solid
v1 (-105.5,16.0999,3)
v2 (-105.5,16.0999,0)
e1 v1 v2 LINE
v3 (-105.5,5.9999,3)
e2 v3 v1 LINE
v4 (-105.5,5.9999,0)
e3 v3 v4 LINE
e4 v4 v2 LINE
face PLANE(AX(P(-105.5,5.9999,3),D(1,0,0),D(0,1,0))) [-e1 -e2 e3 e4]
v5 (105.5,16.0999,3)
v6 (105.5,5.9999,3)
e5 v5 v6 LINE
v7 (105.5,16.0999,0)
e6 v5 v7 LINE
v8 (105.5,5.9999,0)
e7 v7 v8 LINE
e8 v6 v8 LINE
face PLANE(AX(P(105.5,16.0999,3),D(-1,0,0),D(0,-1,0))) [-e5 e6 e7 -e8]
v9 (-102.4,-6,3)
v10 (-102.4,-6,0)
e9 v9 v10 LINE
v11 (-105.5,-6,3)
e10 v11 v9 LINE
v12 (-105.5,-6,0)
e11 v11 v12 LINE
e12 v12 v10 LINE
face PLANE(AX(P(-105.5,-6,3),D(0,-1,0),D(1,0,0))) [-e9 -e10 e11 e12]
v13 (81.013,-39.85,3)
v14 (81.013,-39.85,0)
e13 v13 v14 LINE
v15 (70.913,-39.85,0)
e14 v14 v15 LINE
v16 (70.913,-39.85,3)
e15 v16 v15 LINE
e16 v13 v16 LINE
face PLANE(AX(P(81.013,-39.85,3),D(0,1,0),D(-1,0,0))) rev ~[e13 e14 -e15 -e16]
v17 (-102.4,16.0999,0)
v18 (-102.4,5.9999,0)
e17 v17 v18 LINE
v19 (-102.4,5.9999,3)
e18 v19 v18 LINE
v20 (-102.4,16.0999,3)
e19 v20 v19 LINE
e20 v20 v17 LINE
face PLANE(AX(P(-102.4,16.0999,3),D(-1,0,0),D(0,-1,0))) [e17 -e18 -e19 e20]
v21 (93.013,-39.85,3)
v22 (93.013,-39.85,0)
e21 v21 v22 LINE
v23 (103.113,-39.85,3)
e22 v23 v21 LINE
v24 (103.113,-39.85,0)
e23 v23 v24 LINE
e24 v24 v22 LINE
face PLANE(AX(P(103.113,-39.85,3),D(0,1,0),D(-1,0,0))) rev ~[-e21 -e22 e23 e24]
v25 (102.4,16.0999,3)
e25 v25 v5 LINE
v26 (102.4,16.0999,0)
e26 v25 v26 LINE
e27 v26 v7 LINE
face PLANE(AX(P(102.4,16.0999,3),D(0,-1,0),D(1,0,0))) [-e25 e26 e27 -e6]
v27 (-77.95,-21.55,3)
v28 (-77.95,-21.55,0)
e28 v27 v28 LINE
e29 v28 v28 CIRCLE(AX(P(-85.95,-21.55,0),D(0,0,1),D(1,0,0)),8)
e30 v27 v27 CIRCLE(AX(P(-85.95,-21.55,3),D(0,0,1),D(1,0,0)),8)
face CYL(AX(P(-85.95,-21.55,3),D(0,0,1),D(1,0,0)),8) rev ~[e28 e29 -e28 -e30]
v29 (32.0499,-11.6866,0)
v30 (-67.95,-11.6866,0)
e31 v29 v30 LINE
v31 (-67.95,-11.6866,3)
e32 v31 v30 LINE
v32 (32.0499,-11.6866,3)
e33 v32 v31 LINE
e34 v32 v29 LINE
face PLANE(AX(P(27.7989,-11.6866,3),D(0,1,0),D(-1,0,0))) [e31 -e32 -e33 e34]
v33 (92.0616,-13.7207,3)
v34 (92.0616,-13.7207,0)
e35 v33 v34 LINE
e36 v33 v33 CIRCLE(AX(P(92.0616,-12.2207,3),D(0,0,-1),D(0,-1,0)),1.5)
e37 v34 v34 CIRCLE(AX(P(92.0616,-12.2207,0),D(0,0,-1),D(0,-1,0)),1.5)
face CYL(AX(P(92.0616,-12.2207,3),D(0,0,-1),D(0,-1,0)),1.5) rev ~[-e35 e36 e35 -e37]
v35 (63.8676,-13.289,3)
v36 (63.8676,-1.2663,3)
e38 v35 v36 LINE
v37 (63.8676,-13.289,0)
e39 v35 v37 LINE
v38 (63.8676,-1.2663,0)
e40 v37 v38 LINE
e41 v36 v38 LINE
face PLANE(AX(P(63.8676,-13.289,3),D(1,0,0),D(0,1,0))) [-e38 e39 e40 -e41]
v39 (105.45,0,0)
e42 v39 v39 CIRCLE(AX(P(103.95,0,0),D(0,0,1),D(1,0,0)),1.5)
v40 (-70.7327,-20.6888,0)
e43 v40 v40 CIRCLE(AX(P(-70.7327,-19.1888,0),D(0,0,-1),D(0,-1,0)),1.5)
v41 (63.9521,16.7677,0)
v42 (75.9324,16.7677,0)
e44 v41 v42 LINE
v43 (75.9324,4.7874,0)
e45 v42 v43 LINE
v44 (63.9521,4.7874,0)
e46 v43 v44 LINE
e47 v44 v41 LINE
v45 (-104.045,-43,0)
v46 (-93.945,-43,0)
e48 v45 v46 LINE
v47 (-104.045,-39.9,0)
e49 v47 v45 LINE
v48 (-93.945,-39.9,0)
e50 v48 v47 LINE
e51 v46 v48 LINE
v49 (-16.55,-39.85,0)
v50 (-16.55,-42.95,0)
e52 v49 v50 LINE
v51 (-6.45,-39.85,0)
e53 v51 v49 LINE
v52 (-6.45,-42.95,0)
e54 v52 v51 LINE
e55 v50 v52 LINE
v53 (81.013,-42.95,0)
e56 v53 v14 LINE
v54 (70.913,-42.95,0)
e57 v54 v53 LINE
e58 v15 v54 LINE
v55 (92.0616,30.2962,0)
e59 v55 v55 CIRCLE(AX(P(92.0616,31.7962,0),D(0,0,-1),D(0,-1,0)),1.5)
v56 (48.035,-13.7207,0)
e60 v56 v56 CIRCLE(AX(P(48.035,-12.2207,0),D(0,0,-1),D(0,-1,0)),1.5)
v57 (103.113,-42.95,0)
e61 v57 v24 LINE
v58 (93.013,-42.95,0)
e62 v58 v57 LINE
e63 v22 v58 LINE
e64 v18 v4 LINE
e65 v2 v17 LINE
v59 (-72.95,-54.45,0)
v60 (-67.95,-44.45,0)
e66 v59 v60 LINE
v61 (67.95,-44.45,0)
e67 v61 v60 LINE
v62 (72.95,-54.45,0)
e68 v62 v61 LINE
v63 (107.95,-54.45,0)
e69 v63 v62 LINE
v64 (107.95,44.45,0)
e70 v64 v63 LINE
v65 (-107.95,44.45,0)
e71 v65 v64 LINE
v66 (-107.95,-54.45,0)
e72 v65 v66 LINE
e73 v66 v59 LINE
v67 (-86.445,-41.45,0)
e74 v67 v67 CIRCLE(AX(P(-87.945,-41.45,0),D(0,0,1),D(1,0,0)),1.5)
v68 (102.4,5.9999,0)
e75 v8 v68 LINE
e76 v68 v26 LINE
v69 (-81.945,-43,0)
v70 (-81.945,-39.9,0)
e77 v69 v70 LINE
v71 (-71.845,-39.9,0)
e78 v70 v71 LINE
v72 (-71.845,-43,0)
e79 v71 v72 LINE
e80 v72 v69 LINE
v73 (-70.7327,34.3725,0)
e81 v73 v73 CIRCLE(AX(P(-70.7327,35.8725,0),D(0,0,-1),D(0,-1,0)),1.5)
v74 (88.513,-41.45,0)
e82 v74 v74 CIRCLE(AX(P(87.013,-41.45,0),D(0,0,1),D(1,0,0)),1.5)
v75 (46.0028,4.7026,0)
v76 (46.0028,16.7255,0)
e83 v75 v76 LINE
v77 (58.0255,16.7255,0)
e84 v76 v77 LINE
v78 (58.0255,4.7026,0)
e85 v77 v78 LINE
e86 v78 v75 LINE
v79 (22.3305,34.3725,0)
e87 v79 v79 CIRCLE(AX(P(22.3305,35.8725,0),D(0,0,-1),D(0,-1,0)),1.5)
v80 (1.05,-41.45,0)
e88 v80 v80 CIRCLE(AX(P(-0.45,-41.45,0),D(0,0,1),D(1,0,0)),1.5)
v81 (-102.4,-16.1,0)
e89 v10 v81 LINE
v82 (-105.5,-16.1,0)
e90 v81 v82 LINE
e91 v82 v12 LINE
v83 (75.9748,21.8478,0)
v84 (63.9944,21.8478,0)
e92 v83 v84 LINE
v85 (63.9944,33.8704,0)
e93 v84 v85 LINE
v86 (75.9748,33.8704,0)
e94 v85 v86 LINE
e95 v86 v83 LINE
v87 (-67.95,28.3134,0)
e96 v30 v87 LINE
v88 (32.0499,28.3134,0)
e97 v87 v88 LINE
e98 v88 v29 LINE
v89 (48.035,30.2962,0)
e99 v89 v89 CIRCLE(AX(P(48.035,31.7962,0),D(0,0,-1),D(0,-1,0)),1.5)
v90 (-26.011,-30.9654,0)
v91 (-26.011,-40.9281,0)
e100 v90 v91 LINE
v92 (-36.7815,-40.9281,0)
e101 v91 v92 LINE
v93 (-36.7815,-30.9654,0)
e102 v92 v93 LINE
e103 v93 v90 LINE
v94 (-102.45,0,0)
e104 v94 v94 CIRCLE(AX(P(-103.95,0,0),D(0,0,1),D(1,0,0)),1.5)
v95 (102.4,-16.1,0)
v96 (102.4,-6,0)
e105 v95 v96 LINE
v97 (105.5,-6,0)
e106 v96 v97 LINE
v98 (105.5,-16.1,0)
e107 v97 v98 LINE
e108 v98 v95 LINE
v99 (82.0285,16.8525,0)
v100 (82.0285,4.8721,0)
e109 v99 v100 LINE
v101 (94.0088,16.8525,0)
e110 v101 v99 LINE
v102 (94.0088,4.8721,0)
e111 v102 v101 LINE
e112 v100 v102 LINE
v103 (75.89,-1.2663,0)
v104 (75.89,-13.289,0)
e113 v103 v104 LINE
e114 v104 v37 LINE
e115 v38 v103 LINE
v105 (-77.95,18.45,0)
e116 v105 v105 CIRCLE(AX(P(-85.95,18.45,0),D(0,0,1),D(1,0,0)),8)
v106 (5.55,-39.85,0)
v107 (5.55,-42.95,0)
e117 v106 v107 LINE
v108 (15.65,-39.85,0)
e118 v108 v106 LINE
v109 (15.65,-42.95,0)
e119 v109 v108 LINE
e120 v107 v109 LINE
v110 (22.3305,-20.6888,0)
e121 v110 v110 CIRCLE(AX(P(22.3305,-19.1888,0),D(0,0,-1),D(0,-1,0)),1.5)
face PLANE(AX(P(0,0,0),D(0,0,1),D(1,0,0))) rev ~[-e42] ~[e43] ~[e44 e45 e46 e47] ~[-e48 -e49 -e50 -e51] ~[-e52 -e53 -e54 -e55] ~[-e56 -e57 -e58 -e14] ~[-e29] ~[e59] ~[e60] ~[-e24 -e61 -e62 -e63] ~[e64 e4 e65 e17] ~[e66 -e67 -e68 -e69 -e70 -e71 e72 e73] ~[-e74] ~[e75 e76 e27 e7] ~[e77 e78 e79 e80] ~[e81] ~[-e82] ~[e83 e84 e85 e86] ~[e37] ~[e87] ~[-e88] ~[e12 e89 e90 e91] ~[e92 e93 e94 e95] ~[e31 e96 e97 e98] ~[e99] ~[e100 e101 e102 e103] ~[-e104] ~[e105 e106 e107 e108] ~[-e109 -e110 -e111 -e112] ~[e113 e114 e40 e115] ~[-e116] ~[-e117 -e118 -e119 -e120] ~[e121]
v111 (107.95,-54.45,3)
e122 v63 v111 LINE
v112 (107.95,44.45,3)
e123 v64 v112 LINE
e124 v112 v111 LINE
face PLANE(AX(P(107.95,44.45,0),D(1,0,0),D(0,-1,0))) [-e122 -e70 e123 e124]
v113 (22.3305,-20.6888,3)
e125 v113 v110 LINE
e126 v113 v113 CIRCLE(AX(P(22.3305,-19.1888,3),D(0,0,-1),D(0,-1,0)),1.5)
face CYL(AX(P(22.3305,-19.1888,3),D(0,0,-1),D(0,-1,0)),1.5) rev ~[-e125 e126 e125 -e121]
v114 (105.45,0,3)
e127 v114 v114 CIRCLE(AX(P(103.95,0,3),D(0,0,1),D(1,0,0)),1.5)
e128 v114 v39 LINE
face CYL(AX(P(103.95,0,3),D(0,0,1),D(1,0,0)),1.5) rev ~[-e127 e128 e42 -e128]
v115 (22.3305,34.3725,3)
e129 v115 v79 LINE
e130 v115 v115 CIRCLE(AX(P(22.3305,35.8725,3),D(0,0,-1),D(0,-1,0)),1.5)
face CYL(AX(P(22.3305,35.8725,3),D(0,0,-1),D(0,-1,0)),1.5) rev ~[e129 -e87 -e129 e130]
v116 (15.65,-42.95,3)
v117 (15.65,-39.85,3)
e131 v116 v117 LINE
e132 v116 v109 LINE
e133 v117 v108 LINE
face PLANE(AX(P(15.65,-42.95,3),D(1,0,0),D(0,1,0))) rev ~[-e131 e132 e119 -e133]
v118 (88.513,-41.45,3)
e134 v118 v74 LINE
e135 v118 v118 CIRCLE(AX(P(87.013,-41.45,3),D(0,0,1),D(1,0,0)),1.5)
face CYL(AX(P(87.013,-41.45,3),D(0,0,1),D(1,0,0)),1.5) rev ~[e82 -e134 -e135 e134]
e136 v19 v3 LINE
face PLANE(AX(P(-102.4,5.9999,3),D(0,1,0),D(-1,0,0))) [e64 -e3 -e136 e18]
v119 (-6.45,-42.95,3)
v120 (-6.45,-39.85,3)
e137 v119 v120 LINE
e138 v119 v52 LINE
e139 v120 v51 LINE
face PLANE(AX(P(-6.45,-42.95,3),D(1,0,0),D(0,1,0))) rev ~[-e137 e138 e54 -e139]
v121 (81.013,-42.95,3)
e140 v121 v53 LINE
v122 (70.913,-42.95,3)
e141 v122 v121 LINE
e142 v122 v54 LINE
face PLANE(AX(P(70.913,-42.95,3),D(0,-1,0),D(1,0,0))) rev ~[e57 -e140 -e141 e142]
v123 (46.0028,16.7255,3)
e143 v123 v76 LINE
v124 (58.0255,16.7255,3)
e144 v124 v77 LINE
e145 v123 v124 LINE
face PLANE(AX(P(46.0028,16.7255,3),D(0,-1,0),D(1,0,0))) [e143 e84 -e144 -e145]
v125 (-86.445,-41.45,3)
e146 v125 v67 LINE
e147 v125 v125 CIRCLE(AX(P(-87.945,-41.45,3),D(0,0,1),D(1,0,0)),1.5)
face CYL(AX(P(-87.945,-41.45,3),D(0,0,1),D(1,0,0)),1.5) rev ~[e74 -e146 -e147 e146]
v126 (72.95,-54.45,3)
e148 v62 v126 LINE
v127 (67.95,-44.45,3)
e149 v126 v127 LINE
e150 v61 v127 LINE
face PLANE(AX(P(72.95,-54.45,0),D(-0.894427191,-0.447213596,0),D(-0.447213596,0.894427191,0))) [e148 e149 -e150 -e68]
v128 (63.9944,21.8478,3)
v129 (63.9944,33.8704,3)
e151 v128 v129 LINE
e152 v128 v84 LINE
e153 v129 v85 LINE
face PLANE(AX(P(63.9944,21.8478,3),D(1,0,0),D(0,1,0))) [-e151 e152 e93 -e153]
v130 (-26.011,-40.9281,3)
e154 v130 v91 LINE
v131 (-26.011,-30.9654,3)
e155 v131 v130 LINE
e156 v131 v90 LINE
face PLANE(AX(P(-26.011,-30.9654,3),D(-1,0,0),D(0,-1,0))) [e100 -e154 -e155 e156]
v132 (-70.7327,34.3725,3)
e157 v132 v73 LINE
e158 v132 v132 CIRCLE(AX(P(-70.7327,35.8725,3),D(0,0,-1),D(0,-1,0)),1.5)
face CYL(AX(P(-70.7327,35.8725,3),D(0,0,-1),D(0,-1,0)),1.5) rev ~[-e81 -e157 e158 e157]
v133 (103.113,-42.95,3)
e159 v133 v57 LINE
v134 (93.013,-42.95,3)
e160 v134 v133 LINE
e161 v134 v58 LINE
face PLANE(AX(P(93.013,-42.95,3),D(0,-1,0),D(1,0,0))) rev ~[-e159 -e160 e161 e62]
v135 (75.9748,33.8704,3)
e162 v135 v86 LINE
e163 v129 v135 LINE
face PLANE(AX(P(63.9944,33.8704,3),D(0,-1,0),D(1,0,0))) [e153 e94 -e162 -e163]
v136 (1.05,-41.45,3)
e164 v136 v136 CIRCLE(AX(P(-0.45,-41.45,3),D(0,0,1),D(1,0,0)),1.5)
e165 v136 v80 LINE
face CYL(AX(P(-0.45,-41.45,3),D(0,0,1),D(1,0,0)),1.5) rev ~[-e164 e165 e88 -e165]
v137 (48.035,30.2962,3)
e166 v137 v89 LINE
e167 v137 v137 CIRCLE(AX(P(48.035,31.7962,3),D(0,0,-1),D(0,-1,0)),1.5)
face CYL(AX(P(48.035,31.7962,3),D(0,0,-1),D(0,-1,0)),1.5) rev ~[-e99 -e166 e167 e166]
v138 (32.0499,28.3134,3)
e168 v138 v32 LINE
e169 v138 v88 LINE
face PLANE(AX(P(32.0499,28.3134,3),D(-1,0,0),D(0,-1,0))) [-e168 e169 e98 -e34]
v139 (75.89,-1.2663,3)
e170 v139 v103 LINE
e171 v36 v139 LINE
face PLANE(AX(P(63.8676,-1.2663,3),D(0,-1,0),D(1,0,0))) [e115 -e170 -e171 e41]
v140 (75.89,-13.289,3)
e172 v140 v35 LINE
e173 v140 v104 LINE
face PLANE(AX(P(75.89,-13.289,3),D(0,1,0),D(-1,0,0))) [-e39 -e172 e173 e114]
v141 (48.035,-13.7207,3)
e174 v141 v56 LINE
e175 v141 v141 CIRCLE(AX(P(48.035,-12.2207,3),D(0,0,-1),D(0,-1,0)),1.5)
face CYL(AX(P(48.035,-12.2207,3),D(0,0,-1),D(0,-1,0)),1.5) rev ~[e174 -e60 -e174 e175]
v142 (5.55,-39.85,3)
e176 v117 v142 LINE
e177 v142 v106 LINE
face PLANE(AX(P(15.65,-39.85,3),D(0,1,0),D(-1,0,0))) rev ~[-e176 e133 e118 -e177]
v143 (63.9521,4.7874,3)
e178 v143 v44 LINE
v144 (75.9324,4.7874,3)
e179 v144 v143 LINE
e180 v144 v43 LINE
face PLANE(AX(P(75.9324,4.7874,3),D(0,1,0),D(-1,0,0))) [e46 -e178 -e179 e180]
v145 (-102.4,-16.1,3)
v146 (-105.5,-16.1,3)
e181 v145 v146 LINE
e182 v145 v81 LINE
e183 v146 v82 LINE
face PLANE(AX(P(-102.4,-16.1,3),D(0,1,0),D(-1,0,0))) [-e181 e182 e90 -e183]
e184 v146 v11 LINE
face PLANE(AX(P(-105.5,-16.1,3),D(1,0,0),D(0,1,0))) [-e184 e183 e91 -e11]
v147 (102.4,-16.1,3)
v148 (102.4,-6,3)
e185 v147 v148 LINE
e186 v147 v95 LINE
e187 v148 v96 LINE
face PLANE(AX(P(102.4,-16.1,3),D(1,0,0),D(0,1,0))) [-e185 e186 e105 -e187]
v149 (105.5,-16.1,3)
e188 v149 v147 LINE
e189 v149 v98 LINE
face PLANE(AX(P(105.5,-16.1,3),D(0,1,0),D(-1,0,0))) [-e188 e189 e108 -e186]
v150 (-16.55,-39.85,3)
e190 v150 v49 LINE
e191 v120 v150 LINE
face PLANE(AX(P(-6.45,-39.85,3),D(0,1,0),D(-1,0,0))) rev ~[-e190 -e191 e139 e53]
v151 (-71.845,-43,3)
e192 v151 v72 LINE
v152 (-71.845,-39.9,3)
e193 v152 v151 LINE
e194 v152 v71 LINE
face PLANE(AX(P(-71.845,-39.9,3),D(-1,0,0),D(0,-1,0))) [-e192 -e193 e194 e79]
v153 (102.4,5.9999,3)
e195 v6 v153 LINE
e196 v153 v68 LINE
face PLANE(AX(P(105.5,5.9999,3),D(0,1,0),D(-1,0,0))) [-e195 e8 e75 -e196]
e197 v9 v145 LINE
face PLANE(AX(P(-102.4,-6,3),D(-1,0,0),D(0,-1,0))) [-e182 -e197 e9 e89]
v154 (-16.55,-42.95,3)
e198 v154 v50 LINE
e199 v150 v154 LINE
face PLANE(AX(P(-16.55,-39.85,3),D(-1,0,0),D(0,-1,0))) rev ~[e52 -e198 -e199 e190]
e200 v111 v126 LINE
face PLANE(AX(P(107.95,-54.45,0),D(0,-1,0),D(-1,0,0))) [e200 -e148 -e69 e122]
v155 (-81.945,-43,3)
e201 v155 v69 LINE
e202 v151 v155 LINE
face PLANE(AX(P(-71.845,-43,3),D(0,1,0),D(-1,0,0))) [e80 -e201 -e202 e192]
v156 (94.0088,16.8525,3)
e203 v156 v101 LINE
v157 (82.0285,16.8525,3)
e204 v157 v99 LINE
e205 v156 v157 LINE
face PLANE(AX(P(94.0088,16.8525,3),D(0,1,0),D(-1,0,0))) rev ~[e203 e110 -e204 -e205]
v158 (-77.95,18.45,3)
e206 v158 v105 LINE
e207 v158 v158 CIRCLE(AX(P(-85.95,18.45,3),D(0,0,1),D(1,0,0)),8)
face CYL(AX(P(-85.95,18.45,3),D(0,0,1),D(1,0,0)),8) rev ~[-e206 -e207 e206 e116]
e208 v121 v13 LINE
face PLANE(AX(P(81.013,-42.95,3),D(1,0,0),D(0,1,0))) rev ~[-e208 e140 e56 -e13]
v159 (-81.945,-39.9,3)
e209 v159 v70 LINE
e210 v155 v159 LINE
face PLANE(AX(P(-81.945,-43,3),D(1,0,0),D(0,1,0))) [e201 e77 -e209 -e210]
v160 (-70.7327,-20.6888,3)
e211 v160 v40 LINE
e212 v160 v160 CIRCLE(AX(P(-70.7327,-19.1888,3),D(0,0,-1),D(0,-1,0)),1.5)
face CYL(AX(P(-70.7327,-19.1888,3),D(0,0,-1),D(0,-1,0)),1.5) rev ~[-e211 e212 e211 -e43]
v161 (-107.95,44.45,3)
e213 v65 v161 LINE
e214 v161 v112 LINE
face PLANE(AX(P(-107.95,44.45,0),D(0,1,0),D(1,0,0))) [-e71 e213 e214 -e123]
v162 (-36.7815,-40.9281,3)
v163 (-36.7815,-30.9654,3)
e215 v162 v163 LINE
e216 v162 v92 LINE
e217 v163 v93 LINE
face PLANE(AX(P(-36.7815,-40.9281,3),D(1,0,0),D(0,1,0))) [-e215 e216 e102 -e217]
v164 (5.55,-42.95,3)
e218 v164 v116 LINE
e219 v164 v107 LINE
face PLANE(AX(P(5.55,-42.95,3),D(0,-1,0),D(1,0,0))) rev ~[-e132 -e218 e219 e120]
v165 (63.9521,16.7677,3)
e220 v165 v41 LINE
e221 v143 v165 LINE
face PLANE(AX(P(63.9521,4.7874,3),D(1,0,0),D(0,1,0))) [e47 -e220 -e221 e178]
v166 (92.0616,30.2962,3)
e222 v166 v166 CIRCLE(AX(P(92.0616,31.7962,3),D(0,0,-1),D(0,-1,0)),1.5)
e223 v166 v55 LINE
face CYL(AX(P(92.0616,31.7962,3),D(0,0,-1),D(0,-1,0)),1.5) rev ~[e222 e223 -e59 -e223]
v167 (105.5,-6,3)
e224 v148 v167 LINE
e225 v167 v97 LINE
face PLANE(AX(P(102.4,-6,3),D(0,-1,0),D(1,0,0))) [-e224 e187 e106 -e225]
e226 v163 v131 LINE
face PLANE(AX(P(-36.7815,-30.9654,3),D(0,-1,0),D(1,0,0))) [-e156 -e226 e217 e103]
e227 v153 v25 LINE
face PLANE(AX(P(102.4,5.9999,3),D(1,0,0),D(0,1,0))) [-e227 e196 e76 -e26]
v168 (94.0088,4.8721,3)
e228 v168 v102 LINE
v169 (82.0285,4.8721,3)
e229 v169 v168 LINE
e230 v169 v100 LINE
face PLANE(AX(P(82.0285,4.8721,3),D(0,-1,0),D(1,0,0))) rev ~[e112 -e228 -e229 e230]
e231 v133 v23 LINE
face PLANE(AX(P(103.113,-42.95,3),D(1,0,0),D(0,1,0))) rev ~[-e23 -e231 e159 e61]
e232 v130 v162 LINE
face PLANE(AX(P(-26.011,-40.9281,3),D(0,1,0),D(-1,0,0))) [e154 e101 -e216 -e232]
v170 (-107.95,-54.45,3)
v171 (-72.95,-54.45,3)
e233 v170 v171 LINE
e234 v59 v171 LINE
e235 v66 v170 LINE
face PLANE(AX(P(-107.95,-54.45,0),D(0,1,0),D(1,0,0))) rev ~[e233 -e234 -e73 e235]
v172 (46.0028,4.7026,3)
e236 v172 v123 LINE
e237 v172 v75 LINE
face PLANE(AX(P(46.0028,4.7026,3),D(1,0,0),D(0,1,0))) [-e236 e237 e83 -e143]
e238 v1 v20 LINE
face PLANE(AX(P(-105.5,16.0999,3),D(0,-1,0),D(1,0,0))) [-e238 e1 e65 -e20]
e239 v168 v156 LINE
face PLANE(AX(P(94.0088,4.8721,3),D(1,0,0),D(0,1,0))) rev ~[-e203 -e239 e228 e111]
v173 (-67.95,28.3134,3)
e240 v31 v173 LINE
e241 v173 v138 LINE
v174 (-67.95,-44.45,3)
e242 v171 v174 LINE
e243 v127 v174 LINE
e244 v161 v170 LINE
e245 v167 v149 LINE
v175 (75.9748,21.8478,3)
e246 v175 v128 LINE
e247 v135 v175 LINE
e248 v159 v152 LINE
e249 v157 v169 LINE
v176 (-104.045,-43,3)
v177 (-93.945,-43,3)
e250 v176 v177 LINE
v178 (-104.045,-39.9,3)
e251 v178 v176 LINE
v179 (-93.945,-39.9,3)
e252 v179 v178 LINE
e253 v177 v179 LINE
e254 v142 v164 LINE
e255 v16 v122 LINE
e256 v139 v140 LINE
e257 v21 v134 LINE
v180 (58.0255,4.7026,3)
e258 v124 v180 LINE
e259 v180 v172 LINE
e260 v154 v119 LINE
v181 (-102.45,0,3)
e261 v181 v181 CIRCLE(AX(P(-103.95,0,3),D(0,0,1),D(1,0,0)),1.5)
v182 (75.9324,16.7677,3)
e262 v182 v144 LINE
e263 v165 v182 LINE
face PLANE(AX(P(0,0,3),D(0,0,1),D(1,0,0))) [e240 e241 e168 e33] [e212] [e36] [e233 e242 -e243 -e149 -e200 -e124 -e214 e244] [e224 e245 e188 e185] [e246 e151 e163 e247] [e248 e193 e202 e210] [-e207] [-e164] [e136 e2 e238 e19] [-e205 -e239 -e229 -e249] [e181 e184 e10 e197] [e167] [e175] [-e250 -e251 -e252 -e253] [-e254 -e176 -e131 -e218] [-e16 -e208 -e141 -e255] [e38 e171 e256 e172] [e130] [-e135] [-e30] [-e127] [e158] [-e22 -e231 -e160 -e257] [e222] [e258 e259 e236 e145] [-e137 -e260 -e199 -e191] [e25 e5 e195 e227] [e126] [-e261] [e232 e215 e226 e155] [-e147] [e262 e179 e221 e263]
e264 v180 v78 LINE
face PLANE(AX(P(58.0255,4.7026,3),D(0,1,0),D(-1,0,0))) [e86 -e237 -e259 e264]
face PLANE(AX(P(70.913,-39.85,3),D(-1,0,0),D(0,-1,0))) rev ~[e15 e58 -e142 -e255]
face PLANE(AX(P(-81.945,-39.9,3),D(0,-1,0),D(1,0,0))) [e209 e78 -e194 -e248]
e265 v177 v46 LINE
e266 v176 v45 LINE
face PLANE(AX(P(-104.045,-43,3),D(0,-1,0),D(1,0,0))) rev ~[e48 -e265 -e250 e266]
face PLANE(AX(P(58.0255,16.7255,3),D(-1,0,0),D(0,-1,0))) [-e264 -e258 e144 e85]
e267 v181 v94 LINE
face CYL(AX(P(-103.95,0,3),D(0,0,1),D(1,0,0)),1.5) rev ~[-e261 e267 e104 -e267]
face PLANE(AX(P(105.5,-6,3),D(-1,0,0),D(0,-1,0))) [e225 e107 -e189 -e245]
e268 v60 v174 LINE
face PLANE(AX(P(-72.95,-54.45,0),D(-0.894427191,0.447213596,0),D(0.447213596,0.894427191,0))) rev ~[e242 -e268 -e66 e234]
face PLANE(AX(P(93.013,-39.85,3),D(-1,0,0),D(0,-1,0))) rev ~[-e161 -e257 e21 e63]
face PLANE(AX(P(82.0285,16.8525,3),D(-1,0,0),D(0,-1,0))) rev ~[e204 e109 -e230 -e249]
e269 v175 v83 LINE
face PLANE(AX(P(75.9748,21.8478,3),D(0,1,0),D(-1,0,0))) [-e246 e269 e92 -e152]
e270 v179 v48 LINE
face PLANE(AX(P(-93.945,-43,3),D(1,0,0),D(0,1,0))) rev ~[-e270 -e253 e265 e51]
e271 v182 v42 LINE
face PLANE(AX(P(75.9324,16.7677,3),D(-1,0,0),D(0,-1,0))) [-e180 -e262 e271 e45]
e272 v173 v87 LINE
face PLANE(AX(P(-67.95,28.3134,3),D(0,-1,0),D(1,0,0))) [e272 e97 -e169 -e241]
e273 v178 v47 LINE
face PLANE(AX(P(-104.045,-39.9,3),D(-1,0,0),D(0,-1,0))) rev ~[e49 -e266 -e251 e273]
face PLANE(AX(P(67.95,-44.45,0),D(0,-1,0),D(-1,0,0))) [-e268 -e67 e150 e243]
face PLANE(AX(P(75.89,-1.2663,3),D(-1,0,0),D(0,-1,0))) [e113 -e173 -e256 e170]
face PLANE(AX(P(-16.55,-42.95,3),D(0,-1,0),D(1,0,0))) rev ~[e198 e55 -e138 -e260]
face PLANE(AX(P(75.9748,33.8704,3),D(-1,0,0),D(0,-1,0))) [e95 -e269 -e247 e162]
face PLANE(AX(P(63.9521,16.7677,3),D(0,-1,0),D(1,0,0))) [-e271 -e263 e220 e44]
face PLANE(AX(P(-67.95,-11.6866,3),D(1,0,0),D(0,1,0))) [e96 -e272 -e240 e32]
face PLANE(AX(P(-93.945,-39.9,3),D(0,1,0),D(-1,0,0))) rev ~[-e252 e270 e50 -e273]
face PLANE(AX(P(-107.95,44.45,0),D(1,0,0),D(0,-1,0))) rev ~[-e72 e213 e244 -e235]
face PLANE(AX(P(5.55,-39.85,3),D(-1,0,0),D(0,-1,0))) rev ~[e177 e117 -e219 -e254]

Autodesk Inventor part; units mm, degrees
ref_plane "YZ Plane" through (0, 0, 0) normal (1, 0, 0) x (0, 1, 0)
ref_plane "XZ Plane" through (0, 0, 0) normal (0, 1, 0) x (-1, 0, 0)
ref_plane "XY Plane" through (0, 0, 0) normal (0, 0, 1) x (1, 0, 0)
sketch "Sketch1" plane through (0, 0, 0) normal (0, 0, 1) x (1, 0, 0)
  line L0 (-107.95, 44.45) -> (107.95, 44.45)
  line L1 (-107.95, -54.45) -> (-72.95, -54.45)
  line L2 (-72.95, -54.45) -> (-67.95, -44.45)
  line L3 (67.95, -44.45) -> (-67.95, -44.45)
  line L4 (107.95, -54.45) -> (72.95, -54.45)
  line L5 (72.95, -54.45) -> (67.95, -44.45)
  line L6 (-107.95, 44.45) -> (-107.95, -54.45)
  line L7 (107.95, 44.45) -> (107.95, -54.45)
  point P0 (0, 0)
  dimension "d36" = 88.9
  dimension "d38" = 215.9
  dimension "d39" = 44.45
  dimension "d40" = 107.95
  dimension "d41" = 98.9
  dimension "d42" = 10
  dimension "d43" = 116.565
  dimension "d44" = 35
  dimension "d45" = 35
  dimension "d46" = 116.565
  dimension "d47" = 40
extrude "Face ext" add sketch "Sketch1" along normal blind 3
sketch "Cutouts - skt" plane through (0, 0, 3) normal (0, 0, 1) x (1, 0, 0)
  line L0 (107.95, 44.45) -> (-107.95, 44.45) projected
  line L1 (63.8676, -13.289) -> (63.8676, -1.2663)
  line L2 (75.89, -13.289) -> (63.8676, -13.289)
  line L3 (75.89, -1.2663) -> (75.89, -13.289)
  line L4 (63.8676, -1.2663) -> (75.89, -1.2663)
  line L5 (46.0028, 16.7255) -> (58.0255, 16.7255)
  line L6 (46.0028, 4.7026) -> (46.0028, 16.7255)
  line L7 (58.0255, 4.7026) -> (46.0028, 4.7026)
  line L8 (58.0255, 16.7255) -> (58.0255, 4.7026)
  line L9 (75.9748, 33.8704) -> (75.9748, 21.8478)
  line L10 (63.9944, 33.8704) -> (75.9748, 33.8704)
  line L11 (63.9944, 21.8478) -> (63.9944, 33.8704)
  line L12 (75.9748, 21.8478) -> (63.9944, 21.8478)
  line L13 (63.9521, 16.7677) -> (75.9324, 16.7677)
  line L14 (63.9521, 4.7874) -> (63.9521, 16.7677)
  line L15 (75.9324, 4.7874) -> (63.9521, 4.7874)
  line L16 (75.9324, 16.7677) -> (75.9324, 4.7874)
  line L17 (94.0088, 4.8721) -> (94.0088, 16.8525)
  line L18 (82.0285, 4.8721) -> (94.0088, 4.8721)
  line L19 (82.0285, 16.8525) -> (82.0285, 4.8721)
  line L20 (94.0088, 16.8525) -> (82.0285, 16.8525)
  line L21 (27.7989, -11.6866) -> (-67.95, -11.6866)
  line L22 (-67.95, 28.3134) -> (25.7989, 28.3134)
  line L23 (32.0499, 28.3134) -> (32.0499, -11.6866)
  circle A0 centre (-85.95, 18.45) radius 8
  circle A1 centre (-85.95, -21.55) radius 8
  line L24 (-67.95, 28.3134) -> (32.0499, 28.3134)
  line L25 (32.0499, 28.3134) -> (32.0499, -11.6866)
  line L26 (32.0499, -11.6866) -> (-67.95, -11.6866)
  line L27 (-67.95, -11.6866) -> (-67.95, 28.3134)
  line L28 (63.9944, 33.8704) -> (75.9748, 33.8704)
  line L29 (75.9748, 33.8704) -> (75.9748, 21.8478)
  line L30 (75.9748, 21.8478) -> (63.9944, 21.8478)
  line L31 (63.9944, 21.8478) -> (63.9944, 33.8704)
  line L32 (82.0285, 16.8525) -> (94.0088, 16.8525)
  line L33 (94.0088, 16.8525) -> (94.0088, 4.8721)
  line L34 (94.0088, 4.8721) -> (82.0285, 4.8721)
  line L35 (82.0285, 4.8721) -> (82.0285, 16.8525)
  line L36 (63.9521, 16.7677) -> (75.9324, 16.7677)
  line L37 (75.9324, 16.7677) -> (75.9324, 4.7874)
  line L38 (75.9324, 4.7874) -> (63.9521, 4.7874)
  line L39 (63.9521, 4.7874) -> (63.9521, 16.7677)
  line L40 (46.0028, 16.7255) -> (58.0255, 16.7255)
  line L41 (58.0255, 16.7255) -> (58.0255, 4.7026)
  line L42 (58.0255, 4.7026) -> (46.0028, 4.7026)
  line L43 (46.0028, 4.7026) -> (46.0028, 16.7255)
  line L44 (63.8676, -1.2663) -> (75.89, -1.2663)
  line L45 (75.89, -1.2663) -> (75.89, -13.289)
  line L46 (75.89, -13.289) -> (63.8676, -13.289)
  line L47 (63.8676, -13.289) -> (63.8676, -1.2663)
  line L48 (-36.7815, -30.9654) -> (-26.011, -30.9654)
  line L49 (-26.011, -30.9654) -> (-26.011, -40.9281)
  line L50 (-26.011, -40.9281) -> (-36.7815, -40.9281)
  line L51 (-36.7815, -40.9281) -> (-36.7815, -30.9654)
  line L52 (-16.5867, -34.4658) -> (45.1738, -34.4658) construction
  line L53 (45.1738, -34.4658) -> (45.1738, -38.1955) construction
  line L54 (45.1738, -38.1955) -> (-16.5867, -38.1955) construction
  line L55 (-16.5867, -38.1955) -> (-16.5867, -34.4658) construction
  line L56 (-107.95, 44.45) -> (-107.95, -54.45) projected
  point P0 (-107.95, -44.45)
  point P1 (0, 0)
  point P2 (-70.7327, 35.8725)
  point P3 (22.3305, 35.8725)
  point P4 (22.3305, -19.1888)
  point P5 (-70.7327, -19.1888)
  point P6 (48.035, 31.7962)
  point P7 (92.0616, 31.7962)
  point P8 (48.035, -12.2207)
  point P9 (92.0616, -12.2207)
  point P10 (48.035, 31.7962)
  point P11 (92.0616, 31.7962)
  point P12 (92.0616, -12.2207)
  point P13 (48.035, -12.2207)
  point P14 (-70.7327, 35.8725)
  point P15 (22.3305, 35.8725)
  point P16 (22.3305, -19.1888)
  point P17 (-70.7327, -19.1888)
  dimension "d8" = 16
  dimension "d9" = 16
  dimension "d13" = 26
  dimension "d48" = 40
  dimension "d49" = 99.9999
  dimension "d50" = 40
  dimension "d51" = 93.0632
  dimension "d52" = 93.0632
  dimension "d53" = 55.0612
  dimension "d54" = 55.0612
  dimension "d55" = 8.5775
  dimension "d57" = 7.5591
  dimension "d59" = 44.0266
  dimension "d60" = 44.0266
  dimension "d61" = 22
  dimension "d62" = 22
  dimension "d90" = 40
  dimension "d91" = 18
sketch3d "3D Sketch1"
extrude "Cut-outs ext" cut sketch "Cutouts - skt" against normal through all
hole "Hole1" at (-70.7327, 35.8725, 3) at (-70.7327, -19.1888, 3) at (22.3305, -19.1888, 3) at (22.3305, 35.8725, 3) at (48.035, -12.2207, 3) at (48.035, 31.7962, 3) at (92.0616, 31.7962, 3) at (92.0616, -12.2207, 3) direction (0, 0, -1) diameter 3 end through all
sketch "Mating Holes" plane through (0, 0, 3) normal (0, 0, 1) x (1, 0, 0)
  line L0 (107.95, 44.45) -> (-107.95, 44.45) projected
  line L1 (-107.95, 44.45) -> (-107.95, -54.45) projected
  line L2 (-67.95, -44.45) -> (67.95, -44.45) projected
  line L3 (107.95, -54.45) -> (107.95, 44.45) projected
  circle A0 centre (-103.95, 0) radius 1.5
  line L4 (-105.5, -6) -> (-102.4, -6)
  line L5 (-102.4, -6) -> (-102.4, -16.1)
  line L6 (-102.4, -16.1) -> (-105.5, -16.1)
  line L7 (-105.5, -16.1) -> (-105.5, -6)
  line L8 (-105.5, 16.0999) -> (-102.4, 16.0999)
  line L9 (-102.4, 16.0999) -> (-102.4, 5.9999)
  line L10 (-102.4, 5.9999) -> (-105.5, 5.9999)
  line L11 (-105.5, 5.9999) -> (-105.5, 16.0999)
  circle A1 centre (103.95, 0) radius 1.5
  line L12 (102.4, -6) -> (105.5, -6)
  line L13 (105.5, -6) -> (105.5, -16.1)
  line L14 (105.5, -16.1) -> (102.4, -16.1)
  line L15 (102.4, -16.1) -> (102.4, -6)
  line L16 (102.4, 16.0999) -> (105.5, 16.0999)
  line L17 (105.5, 16.0999) -> (105.5, 5.9999)
  line L18 (105.5, 5.9999) -> (102.4, 5.9999)
  line L19 (102.4, 5.9999) -> (102.4, 16.0999)
  point P0 (0, 0)
  dimension "d63" = 3
  dimension "d75" = 44.45
  dimension "d79" = 3.1
  dimension "d80" = 10.1
  dimension "d81" = 6
  dimension "d85" = 3.1
  dimension "d86" = 10.1
  dimension "d87" = 5.9999
  dimension "d88" = 1.55
  dimension "d89" = 1.55
  dimension "d92" = 3
  dimension "d93" = 3.1
  dimension "d94" = 10.1
  dimension "d95" = 6
  dimension "d96" = 3.1
  dimension "d97" = 10.1
  dimension "d98" = 5.9999
  dimension "d99" = 1.55
  dimension "d100" = 1.55
  dimension "d101" = 4
  dimension "d102" = 44.45
  dimension "d103" = 4
  dimension "d104" = 88.9
extrude "Side Panel Slots" cut sketch "Mating Holes" against normal through all
sketch "Bottom Panel Slots" plane through (0, 0, 3) normal (0, 0, 1) x (1, 0, 0)
  line L0 (-107.95, 44.45) -> (-107.95, -54.45) projected
  line L1 (-107.95, -54.45) -> (-72.95, -54.45) projected
  line L2 (72.95, -54.45) -> (107.95, -54.45) projected
  circle A0 centre (-87.945, -41.45) radius 1.5
  line L3 (-93.945, -39.9) -> (-104.045, -39.9)
  line L4 (-104.045, -39.9) -> (-104.045, -43)
  line L5 (-104.045, -43) -> (-93.945, -43)
  line L6 (-93.945, -43) -> (-93.945, -39.9)
  line L7 (-81.945, -39.9) -> (-71.845, -39.9)
  line L8 (-71.845, -39.9) -> (-71.845, -43)
  line L9 (-71.845, -43) -> (-81.945, -43)
  line L10 (-81.945, -43) -> (-81.945, -39.9)
  circle A1 centre (87.013, -41.45) radius 1.5
  line L11 (93.013, -42.95) -> (103.113, -42.95)
  line L12 (103.113, -42.95) -> (103.113, -39.85)
  line L13 (103.113, -39.85) -> (93.013, -39.85)
  line L14 (93.013, -39.85) -> (93.013, -42.95)
  line L15 (81.013, -39.85) -> (70.913, -39.85)
  line L16 (70.913, -39.85) -> (70.913, -42.95)
  line L17 (70.913, -42.95) -> (81.013, -42.95)
  line L18 (81.013, -42.95) -> (81.013, -39.85)
  circle A2 centre (-0.45, -41.45) radius 1.5
  line L19 (5.55, -42.95) -> (15.65, -42.95)
  line L20 (15.65, -42.95) -> (15.65, -39.85)
  line L21 (15.65, -39.85) -> (5.55, -39.85)
  line L22 (5.55, -39.85) -> (5.55, -42.95)
  line L23 (-6.45, -39.85) -> (-16.55, -39.85)
  line L24 (-16.55, -39.85) -> (-16.55, -42.95)
  line L25 (-16.55, -42.95) -> (-6.45, -42.95)
  line L26 (-6.45, -42.95) -> (-6.45, -39.85)
  point P0 (0, 0)
  point P1 (-93.945, -41.45)
  point P2 (-71.845, -41.45)
  dimension "d109" = 3
  dimension "d112" = 10.1
  dimension "d113" = 3.1
  dimension "d116" = 13
  dimension "d118" = 10.1
  dimension "d119" = 3.1
  dimension "d120" = 13
  dimension "d123" = 6
  dimension "d124" = 6
  dimension "d125" = 13
  dimension "d129" = 3
  dimension "d130" = 10.1
  dimension "d131" = 3.1
  dimension "d132" = 10.1
  dimension "d133" = 3.1
  dimension "d134" = 6
  dimension "d137" = 6
  dimension "d138" = 13
  dimension "d140" = 1.5
  dimension "d141" = 1.5
  dimension "d142" = 3
  dimension "d143" = 107.5
  dimension "d144" = 13
  dimension "d145" = 10.1
  dimension "d146" = 3.1
  dimension "d147" = 10.1
  dimension "d148" = 3.1
  dimension "d149" = 1.5
  dimension "d150" = 1.5
  dimension "d151" = 6
  dimension "d152" = 6
  dimension "d155" = 87.463
  dimension "d156" = 87.495
extrude "Extrusion4" cut sketch "Bottom Panel Slots" against normal blind 10
equation "\"d39\" = 0.5 * d36"
equation "\"d40\" = 0.5 * d38"
equation "\"d45\" = d44"
equation "\"d46\" = d43"
equation "\"d52\" = d51"
equation "\"d54\" = d53"
equation "\"d60\" = d59"
equation "\"d62\" = d61"
equation "\"d75\" = 0.5 * d104"
equation "\"d79\" = d85"
equation "\"d80\" = d86"
equation "\"d88\" = 0.5 * d85"
equation "\"d89\" = d88"
equation "\"d93\" = d96"
equation "\"d94\" = d97"
equation "\"d99\" = 0.5 * d96"
equation "\"d100\" = d99"
equation "\"d101\" = d84"
equation "\"d102\" = d75"
equation "\"d105\" = d76"
equation "\"d84\" = 4"
equation "\"d76\" = 88.9"
properties part number "Front Panel"
